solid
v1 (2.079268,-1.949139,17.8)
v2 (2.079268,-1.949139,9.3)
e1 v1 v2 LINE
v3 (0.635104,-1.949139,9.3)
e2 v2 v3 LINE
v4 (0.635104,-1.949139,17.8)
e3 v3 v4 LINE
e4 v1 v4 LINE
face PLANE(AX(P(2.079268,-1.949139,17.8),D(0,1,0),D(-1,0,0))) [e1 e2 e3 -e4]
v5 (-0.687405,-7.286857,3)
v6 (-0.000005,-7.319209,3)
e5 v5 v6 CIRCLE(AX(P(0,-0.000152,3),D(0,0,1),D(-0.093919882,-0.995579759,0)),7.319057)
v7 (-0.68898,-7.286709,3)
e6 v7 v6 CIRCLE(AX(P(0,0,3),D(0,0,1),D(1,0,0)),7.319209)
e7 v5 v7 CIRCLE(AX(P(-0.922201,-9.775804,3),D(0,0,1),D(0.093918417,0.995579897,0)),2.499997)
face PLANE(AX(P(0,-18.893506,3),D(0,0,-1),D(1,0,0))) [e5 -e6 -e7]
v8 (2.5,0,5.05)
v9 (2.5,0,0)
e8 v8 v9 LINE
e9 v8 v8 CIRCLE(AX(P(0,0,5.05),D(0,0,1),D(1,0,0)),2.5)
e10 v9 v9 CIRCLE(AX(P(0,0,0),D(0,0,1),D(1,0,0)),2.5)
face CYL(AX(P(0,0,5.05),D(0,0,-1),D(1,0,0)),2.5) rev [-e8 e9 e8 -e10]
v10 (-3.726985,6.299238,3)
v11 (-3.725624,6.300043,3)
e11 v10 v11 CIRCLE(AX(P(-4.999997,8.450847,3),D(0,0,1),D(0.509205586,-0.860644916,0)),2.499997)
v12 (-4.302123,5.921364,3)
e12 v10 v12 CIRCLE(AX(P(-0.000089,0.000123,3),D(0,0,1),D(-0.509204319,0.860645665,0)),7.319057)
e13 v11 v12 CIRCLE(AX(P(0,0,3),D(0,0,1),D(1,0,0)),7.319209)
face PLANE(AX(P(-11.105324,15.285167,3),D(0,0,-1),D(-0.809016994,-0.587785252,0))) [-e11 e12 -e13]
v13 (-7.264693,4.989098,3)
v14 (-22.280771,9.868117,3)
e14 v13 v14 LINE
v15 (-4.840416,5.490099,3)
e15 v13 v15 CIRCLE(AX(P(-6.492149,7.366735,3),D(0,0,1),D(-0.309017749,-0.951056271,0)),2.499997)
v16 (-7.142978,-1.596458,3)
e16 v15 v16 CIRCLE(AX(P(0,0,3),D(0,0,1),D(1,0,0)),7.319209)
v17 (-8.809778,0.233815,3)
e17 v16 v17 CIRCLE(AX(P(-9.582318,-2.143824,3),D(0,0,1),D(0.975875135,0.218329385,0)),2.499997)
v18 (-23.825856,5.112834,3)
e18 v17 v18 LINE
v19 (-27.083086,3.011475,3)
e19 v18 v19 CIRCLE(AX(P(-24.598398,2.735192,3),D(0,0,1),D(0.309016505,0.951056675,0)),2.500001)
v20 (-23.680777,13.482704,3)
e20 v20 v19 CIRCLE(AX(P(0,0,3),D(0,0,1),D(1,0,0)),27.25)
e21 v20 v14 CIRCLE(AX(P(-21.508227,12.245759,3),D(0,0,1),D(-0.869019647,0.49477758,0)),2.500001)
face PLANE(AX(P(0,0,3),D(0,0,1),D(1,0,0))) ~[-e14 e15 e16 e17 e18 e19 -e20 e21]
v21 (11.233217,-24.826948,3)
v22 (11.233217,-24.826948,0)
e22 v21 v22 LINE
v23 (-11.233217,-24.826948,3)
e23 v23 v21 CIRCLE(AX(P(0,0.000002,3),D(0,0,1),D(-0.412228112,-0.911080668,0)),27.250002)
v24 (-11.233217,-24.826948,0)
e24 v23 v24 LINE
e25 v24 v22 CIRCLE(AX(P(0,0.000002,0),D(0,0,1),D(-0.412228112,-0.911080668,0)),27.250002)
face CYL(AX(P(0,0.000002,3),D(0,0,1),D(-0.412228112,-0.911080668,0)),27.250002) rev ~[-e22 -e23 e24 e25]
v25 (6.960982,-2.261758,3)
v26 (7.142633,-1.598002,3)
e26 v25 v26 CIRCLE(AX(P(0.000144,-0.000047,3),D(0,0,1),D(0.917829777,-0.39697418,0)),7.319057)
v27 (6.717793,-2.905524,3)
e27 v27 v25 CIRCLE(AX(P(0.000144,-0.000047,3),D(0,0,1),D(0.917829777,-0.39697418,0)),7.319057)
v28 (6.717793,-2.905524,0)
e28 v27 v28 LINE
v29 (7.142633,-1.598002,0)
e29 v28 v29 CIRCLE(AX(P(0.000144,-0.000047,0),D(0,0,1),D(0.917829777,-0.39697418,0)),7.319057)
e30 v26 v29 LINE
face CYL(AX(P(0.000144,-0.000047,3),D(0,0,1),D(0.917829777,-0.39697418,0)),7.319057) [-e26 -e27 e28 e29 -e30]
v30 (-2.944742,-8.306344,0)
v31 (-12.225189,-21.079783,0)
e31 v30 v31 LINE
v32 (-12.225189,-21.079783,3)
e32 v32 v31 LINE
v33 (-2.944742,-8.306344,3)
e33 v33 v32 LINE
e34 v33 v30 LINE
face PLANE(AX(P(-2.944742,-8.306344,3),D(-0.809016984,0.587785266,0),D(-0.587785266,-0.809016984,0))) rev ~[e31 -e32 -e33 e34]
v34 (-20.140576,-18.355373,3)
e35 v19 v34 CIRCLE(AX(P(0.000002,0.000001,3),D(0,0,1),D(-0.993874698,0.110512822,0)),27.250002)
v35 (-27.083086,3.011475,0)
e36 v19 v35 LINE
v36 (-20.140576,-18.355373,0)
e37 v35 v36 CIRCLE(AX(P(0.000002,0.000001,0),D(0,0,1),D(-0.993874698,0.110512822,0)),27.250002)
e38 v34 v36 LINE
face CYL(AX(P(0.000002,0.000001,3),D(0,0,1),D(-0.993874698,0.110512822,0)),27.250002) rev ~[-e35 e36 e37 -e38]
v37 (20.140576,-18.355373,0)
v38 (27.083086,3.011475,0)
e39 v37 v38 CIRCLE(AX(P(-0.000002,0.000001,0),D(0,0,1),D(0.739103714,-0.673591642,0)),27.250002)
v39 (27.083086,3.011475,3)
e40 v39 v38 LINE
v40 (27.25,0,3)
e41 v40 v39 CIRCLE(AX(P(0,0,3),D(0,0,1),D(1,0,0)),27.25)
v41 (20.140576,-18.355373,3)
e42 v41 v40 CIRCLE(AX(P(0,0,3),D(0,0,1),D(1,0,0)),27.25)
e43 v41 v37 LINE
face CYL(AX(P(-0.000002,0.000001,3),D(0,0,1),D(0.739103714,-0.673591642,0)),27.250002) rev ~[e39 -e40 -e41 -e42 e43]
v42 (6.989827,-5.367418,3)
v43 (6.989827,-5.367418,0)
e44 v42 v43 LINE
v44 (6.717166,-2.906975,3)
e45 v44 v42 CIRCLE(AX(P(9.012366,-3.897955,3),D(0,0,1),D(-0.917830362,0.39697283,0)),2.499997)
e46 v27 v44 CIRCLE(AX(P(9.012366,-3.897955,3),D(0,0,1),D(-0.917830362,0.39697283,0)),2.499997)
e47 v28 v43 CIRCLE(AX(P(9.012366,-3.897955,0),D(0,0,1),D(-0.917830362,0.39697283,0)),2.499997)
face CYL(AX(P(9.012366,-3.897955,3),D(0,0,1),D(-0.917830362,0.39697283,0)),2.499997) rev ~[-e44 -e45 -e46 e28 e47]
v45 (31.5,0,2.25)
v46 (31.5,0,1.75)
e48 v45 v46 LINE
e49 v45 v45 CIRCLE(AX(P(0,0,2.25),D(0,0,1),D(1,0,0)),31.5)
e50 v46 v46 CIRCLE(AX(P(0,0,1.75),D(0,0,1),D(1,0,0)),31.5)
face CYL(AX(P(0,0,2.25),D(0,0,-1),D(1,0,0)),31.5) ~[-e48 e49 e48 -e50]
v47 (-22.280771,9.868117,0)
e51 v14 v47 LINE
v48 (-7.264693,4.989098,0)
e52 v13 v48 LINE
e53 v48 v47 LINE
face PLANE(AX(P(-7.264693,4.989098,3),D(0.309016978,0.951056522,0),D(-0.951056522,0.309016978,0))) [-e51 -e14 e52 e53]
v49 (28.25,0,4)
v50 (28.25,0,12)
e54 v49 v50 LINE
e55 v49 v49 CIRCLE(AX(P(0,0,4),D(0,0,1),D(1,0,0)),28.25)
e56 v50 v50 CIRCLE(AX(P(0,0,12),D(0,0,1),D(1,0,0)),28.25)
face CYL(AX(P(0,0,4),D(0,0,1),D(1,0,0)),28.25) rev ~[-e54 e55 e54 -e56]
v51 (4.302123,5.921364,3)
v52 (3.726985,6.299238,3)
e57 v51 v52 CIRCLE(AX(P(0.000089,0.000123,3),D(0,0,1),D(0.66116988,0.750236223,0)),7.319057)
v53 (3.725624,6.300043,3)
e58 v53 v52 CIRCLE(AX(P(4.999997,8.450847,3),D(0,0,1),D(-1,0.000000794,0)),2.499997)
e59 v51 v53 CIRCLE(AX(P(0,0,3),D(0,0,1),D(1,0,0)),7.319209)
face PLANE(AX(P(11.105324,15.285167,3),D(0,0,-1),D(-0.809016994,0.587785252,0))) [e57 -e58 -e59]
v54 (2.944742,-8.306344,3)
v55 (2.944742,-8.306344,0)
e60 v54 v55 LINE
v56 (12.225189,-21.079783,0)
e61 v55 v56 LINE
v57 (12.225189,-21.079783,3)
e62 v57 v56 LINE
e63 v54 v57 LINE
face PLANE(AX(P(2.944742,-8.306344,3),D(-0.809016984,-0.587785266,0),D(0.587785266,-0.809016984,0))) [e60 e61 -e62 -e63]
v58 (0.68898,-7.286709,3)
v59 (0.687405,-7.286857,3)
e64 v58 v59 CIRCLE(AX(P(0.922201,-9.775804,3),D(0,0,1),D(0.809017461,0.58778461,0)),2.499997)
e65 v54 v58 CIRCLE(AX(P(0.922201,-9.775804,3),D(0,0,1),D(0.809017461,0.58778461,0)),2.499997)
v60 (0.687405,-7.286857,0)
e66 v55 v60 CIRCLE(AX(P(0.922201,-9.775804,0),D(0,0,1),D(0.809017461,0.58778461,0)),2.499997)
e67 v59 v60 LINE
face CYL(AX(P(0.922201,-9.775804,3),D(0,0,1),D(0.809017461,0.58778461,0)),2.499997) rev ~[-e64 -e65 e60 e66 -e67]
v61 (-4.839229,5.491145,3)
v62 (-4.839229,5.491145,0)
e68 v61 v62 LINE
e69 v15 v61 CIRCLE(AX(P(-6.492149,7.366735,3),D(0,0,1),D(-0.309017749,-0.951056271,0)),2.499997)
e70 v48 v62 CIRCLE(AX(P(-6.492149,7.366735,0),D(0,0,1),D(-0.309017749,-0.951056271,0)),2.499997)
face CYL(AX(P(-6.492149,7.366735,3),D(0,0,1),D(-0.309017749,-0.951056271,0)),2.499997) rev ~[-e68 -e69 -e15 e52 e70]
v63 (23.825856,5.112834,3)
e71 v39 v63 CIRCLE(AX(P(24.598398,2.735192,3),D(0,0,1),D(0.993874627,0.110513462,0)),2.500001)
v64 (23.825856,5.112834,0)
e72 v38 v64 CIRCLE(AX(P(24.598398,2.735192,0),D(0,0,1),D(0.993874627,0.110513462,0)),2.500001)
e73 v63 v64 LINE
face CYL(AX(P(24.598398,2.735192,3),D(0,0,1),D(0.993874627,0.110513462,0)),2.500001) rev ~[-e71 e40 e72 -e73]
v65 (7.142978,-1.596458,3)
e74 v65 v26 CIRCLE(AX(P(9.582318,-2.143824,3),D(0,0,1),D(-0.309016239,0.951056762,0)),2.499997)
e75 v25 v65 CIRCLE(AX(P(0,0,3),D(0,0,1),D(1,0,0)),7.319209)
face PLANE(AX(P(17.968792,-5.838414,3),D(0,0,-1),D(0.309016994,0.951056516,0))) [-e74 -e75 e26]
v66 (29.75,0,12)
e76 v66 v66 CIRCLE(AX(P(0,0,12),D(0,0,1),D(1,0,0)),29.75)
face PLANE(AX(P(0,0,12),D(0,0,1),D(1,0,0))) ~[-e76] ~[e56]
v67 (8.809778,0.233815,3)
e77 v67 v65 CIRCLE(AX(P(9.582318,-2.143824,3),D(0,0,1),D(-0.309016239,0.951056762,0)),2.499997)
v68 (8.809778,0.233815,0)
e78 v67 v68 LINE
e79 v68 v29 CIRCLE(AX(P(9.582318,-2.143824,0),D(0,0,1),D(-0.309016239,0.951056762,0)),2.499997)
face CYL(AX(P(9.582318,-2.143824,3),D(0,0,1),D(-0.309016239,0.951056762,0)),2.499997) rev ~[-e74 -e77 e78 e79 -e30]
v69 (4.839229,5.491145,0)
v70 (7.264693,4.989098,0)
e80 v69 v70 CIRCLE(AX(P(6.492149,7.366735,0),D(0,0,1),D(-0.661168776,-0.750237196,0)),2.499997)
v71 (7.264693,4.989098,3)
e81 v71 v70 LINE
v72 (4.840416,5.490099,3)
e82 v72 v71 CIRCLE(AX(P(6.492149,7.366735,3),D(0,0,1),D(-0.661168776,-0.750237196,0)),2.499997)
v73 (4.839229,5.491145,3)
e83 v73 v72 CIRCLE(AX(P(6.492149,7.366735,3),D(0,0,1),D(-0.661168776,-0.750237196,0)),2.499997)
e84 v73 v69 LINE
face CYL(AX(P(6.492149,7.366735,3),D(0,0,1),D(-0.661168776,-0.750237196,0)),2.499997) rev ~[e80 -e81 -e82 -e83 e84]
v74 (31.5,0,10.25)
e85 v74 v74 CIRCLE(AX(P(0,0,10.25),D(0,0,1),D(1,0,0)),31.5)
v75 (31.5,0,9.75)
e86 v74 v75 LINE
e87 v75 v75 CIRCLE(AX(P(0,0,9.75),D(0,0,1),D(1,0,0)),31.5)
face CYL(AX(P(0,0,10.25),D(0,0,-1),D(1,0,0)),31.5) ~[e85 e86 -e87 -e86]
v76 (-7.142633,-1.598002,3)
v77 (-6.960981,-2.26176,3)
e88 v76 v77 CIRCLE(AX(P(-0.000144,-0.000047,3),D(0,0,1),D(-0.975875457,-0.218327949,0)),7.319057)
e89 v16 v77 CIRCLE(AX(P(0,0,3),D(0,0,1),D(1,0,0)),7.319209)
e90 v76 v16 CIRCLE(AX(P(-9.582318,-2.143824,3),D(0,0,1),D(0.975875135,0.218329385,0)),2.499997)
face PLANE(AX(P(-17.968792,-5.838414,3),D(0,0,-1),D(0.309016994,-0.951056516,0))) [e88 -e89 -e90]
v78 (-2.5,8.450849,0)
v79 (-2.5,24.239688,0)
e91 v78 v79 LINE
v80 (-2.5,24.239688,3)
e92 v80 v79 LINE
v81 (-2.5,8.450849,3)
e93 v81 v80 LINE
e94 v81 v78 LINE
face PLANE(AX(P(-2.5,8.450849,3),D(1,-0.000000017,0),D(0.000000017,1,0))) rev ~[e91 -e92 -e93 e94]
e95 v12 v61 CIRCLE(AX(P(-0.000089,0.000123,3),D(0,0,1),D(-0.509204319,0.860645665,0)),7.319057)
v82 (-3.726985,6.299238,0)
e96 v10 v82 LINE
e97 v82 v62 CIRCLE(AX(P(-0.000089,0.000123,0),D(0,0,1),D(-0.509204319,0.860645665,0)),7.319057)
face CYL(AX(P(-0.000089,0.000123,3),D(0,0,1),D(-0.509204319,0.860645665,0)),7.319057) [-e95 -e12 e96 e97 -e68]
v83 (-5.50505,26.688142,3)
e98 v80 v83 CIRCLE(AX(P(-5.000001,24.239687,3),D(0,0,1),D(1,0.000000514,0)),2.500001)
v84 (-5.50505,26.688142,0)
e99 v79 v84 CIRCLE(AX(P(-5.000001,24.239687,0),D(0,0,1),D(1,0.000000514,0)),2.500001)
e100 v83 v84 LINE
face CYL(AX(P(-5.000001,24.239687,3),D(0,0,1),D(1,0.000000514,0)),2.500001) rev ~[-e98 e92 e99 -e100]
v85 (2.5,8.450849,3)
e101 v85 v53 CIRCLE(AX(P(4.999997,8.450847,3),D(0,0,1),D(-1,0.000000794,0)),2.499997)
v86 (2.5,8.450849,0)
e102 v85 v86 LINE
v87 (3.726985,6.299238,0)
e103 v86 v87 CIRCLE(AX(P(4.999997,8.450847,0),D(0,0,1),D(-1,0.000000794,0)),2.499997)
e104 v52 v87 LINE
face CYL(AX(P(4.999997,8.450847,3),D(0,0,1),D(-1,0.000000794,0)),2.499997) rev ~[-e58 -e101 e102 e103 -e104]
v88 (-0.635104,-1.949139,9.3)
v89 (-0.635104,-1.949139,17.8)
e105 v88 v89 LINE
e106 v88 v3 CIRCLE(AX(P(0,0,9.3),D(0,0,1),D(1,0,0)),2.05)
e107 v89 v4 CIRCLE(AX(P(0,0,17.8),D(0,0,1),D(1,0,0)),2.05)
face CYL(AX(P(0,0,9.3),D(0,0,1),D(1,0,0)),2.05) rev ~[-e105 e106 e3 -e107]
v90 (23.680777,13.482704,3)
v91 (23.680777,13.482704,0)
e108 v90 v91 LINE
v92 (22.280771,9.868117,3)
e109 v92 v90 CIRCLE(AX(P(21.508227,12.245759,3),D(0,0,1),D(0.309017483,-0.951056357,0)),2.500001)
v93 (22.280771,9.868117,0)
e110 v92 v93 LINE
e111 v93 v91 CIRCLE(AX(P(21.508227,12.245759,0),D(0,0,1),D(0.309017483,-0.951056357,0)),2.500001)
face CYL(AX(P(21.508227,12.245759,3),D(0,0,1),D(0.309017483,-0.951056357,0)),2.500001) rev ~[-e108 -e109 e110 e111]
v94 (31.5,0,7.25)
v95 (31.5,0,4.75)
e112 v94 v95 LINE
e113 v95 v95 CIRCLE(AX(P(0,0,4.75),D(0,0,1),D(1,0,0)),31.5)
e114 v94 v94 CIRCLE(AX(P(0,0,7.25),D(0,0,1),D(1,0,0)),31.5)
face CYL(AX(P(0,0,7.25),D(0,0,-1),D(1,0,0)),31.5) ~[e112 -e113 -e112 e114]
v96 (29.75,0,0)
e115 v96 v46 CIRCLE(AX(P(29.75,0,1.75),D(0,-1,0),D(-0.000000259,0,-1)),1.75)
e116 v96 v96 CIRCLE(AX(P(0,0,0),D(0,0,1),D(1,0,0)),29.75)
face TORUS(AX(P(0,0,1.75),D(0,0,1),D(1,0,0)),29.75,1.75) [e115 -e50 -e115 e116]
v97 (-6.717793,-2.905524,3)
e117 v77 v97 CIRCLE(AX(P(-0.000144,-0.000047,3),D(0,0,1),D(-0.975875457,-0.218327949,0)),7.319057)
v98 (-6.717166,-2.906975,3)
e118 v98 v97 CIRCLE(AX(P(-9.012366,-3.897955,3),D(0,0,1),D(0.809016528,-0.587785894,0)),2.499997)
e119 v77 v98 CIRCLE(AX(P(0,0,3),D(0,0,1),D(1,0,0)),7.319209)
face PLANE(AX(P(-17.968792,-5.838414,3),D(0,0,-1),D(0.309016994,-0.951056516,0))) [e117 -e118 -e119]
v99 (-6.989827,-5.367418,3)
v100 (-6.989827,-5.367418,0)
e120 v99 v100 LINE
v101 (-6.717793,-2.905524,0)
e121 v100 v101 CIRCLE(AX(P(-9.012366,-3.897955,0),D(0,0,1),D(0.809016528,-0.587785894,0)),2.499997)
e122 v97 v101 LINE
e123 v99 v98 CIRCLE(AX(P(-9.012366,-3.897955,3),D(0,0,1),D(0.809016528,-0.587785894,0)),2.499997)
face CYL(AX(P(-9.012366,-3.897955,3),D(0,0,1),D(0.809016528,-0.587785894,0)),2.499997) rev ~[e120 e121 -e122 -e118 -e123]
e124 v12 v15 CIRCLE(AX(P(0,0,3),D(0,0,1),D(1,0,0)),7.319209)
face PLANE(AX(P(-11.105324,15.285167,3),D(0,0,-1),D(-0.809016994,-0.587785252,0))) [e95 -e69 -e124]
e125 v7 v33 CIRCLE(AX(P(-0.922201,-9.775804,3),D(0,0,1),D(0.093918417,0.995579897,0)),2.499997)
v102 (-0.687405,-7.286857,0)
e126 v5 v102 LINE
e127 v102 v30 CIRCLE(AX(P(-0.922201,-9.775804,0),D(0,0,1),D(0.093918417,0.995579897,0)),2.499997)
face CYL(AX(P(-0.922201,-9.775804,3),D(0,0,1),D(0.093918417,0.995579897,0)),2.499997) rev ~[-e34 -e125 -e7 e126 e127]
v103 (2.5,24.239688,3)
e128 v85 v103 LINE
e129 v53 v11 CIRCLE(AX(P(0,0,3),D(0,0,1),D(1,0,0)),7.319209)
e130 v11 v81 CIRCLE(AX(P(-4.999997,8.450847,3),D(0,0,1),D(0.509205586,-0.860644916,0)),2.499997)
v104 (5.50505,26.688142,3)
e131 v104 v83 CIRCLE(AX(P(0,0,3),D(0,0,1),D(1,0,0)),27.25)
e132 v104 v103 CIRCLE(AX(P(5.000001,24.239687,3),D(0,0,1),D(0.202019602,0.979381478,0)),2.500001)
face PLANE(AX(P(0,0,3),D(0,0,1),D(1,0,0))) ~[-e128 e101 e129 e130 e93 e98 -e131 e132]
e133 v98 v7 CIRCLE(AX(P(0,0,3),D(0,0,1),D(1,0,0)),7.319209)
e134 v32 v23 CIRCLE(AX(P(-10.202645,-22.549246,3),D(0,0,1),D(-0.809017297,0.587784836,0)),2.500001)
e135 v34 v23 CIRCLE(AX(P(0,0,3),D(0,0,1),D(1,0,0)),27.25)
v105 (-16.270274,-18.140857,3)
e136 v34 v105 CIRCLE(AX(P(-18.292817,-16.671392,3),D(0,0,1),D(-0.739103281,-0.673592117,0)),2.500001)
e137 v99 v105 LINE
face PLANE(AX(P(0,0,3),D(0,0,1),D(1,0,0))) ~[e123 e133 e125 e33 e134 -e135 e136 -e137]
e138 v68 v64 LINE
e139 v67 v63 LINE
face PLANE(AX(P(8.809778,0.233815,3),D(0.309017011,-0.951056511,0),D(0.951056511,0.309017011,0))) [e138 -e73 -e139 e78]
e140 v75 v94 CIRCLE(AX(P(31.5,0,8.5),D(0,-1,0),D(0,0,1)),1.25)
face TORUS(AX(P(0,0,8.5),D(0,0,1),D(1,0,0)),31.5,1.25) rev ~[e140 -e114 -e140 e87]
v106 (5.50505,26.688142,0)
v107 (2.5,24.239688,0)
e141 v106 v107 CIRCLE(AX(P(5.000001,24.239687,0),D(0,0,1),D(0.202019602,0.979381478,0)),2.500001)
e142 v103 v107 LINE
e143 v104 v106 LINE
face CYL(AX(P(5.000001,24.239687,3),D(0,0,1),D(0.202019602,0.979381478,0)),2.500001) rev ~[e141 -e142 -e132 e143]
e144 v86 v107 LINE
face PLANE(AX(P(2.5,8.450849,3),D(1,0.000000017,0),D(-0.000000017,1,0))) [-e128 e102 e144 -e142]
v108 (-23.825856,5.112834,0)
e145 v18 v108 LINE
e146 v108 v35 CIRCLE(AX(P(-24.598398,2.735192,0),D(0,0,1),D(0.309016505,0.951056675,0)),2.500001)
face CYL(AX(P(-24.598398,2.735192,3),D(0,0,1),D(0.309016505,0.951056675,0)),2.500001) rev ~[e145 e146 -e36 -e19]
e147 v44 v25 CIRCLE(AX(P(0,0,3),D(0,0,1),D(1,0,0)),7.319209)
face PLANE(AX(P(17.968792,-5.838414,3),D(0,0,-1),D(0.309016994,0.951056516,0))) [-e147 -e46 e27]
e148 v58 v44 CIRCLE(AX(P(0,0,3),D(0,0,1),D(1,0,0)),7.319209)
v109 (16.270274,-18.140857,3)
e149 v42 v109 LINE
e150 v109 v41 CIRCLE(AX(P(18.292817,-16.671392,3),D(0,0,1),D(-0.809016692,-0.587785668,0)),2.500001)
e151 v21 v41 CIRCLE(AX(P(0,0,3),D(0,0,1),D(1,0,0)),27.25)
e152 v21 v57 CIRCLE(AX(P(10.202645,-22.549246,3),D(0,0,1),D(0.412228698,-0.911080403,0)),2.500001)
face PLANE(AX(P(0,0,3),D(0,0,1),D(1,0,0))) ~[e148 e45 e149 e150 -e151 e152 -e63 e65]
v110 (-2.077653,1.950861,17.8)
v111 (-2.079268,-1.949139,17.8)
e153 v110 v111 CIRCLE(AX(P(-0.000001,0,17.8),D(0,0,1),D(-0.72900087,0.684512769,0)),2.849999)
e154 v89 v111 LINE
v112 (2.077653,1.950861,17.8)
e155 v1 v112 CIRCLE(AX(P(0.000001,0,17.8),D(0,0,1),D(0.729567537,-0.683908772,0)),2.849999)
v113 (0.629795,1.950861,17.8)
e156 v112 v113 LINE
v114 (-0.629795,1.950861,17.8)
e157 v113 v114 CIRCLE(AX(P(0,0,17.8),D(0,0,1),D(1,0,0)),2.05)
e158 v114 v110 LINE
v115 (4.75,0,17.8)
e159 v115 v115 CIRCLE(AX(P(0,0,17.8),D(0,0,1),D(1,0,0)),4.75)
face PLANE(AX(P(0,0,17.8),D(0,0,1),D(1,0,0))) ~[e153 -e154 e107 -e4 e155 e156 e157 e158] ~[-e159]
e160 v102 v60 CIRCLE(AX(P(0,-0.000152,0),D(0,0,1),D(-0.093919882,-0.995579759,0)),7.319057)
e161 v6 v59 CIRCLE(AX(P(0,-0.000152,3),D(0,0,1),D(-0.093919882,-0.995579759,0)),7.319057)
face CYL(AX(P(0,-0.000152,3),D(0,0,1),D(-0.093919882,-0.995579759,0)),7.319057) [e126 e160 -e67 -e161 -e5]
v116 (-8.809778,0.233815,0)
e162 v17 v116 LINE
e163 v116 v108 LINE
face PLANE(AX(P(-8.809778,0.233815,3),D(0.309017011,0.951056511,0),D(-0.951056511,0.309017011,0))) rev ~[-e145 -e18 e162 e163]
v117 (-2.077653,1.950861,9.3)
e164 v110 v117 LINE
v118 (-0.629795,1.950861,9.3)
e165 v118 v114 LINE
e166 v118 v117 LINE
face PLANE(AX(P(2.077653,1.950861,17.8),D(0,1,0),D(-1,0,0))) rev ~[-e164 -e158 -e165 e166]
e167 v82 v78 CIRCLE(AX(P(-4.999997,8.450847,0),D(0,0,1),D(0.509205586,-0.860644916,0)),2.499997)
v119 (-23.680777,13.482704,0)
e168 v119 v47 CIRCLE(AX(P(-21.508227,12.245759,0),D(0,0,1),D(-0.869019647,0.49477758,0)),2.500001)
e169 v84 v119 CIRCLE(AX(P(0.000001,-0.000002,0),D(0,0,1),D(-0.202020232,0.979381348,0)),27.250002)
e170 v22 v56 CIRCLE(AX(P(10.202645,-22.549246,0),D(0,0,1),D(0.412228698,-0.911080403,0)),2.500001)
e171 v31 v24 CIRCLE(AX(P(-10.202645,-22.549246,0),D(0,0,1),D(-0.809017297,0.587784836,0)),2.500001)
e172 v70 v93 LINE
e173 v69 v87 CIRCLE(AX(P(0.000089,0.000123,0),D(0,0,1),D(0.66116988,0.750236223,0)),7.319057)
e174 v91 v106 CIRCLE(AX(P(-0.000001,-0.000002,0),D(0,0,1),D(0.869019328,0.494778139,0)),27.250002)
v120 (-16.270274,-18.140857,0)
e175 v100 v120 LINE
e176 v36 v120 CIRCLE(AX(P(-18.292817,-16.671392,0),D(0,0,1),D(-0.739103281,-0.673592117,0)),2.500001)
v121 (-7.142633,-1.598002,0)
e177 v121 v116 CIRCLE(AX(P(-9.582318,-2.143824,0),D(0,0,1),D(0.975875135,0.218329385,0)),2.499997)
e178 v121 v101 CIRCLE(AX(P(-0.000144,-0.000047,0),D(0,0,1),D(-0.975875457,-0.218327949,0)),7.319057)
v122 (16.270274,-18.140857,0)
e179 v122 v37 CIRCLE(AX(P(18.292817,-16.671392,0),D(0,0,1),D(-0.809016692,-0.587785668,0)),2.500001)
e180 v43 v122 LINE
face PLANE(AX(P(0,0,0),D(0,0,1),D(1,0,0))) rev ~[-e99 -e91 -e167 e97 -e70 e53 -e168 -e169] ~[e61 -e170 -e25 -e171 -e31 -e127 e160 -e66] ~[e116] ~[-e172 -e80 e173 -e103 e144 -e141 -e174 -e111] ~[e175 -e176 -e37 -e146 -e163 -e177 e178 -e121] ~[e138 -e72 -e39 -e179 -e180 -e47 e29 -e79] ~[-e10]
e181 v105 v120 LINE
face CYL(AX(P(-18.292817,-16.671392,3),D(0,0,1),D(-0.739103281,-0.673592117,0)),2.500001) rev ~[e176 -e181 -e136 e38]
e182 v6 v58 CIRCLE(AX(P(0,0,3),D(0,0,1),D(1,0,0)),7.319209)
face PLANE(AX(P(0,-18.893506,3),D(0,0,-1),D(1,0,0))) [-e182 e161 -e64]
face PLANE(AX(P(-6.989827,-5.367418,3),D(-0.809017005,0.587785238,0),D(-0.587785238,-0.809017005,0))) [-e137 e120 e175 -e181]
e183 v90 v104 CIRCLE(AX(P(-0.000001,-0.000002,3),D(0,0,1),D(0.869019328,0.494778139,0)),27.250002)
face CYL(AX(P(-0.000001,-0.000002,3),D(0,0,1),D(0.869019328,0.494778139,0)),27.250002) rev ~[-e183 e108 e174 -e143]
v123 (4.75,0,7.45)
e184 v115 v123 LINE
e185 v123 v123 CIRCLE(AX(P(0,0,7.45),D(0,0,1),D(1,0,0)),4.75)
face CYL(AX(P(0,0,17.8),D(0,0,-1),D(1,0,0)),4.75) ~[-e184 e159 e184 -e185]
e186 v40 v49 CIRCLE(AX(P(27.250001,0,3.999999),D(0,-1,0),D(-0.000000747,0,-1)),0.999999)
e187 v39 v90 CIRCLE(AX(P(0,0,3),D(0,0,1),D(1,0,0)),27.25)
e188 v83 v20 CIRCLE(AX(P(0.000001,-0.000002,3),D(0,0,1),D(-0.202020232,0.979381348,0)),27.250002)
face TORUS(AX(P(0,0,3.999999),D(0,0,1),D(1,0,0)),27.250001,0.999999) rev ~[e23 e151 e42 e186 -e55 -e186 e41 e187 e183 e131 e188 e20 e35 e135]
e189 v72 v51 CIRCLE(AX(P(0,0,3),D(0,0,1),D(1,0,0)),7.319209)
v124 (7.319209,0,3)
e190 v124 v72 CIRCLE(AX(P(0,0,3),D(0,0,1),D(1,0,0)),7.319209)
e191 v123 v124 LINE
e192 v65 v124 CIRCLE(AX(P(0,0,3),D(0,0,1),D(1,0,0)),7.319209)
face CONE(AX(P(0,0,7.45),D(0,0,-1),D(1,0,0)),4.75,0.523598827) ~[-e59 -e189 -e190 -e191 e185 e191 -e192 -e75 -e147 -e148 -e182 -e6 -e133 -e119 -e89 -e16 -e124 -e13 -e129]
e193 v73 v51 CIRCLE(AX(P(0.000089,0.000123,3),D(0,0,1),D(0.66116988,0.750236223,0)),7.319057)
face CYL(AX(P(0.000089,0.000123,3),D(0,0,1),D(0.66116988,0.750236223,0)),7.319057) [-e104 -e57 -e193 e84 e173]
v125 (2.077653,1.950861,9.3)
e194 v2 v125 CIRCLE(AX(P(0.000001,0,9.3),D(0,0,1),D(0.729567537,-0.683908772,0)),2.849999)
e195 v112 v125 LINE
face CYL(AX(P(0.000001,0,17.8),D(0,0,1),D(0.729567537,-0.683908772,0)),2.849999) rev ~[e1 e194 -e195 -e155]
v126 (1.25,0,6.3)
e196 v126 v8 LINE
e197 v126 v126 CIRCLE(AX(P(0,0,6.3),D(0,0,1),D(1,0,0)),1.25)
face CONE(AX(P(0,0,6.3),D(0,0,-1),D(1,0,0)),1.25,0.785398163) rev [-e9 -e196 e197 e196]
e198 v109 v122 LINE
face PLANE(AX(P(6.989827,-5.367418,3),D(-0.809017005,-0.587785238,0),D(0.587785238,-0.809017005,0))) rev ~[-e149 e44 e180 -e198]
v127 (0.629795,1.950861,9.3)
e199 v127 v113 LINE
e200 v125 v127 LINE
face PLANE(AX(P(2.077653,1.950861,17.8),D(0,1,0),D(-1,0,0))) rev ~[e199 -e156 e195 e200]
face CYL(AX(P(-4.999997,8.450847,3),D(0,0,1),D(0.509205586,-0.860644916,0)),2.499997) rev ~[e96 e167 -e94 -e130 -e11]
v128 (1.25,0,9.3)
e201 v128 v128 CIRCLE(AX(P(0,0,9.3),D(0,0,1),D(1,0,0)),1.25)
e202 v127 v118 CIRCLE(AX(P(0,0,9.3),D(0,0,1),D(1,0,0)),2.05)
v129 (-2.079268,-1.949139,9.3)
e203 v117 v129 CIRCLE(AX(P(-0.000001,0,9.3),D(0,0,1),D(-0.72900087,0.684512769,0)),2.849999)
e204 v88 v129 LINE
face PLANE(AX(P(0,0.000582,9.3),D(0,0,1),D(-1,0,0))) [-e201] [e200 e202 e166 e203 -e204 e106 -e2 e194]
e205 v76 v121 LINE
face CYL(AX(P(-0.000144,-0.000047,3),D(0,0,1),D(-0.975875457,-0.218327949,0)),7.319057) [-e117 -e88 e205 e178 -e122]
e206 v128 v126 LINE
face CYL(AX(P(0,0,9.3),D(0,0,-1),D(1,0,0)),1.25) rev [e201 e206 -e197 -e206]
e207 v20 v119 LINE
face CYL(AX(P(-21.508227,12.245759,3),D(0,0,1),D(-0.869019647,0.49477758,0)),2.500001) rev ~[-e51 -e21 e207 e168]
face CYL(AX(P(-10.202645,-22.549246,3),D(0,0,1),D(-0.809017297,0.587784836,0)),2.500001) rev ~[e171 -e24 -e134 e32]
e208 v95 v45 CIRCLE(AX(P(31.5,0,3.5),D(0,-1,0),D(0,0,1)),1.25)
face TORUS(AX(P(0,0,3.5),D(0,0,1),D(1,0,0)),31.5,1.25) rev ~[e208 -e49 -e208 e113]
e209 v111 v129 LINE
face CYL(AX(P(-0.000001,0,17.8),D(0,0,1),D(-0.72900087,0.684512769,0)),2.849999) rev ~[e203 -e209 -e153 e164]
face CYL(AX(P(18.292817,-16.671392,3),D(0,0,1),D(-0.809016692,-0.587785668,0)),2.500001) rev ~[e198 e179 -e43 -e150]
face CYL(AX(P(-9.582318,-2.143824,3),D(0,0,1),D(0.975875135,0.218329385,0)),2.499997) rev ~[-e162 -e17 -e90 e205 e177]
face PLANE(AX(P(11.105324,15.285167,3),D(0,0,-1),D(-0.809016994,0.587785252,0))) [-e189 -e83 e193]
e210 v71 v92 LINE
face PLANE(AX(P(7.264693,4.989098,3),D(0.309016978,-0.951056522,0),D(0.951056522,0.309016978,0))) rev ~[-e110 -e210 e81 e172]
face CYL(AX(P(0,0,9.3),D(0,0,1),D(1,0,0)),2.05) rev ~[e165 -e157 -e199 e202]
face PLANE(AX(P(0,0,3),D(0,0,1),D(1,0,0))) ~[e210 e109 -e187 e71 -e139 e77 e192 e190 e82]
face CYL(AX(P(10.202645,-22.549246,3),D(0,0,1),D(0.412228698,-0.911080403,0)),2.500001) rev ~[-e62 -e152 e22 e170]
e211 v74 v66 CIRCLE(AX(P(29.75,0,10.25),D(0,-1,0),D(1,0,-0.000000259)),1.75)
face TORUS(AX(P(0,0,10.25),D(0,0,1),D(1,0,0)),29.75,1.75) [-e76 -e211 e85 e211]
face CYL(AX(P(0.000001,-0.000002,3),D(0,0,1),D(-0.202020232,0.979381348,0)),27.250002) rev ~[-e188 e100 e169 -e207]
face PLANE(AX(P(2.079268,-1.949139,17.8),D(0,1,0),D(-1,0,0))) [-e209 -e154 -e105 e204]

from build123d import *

# Parameters (mm, degrees)
POCKET_DEPTH       = 8.5
POCKET001_DEPTH    = 184.7133
POLARPATTERN_COUNT = 5


with BuildPart() as part:
    # Sketch → Revolution (revolve)
    with BuildSketch(Plane.XZ):
        with BuildLine():
            Line((2.05, 17.8), (4.75, 17.8))
            Line((4.75, 17.8), (4.75, 7.45))
            Line((4.75, 7.45), (7.319209, 3))
            Line((7.319209, 3), (27.25, 3))
            ThreePointArc((27.25, 3), (27.957107, 3.292893), (28.25, 4))
            Line((28.25, 4), (28.25, 12))
            Line((28.25, 12), (29.75, 12))
            ThreePointArc((31.5, 10.25), (30.987437, 11.487437), (29.75, 12))
            Line((31.5, 10.25), (31.5, 9.75))
            ThreePointArc((31.5, 9.75), (30.25, 8.5), (31.5, 7.25))
            Line((31.5, 7.25), (31.5, 4.75))
            ThreePointArc((31.5, 4.75), (30.25, 3.5), (31.5, 2.25))
            Line((31.5, 2.25), (31.5, 1.75))
            ThreePointArc((29.75, 0), (30.987437, 0.512563), (31.5, 1.75))
            Line((29.75, 0), (2.5, 0))
            Line((2.5, 5.05), (2.5, 0))
            Line((1.25, 6.3), (2.5, 5.05))
            Line((1.25, 9.3), (1.25, 6.3))
            Line((2.05, 9.3), (1.25, 9.3))
            Line((2.05, 9.3), (2.05, 17.8))
        make_face()
    revolve(axis=Axis((0, 0, 0), (0, 0, 1)))

    # Sketch001 (on Face2 of Revolution) → Pocket (cut)
    with BuildSketch(Plane(origin=(0, 0, 17.8), x_dir=(-1, 0, 0), z_dir=(0, 0, 1))):
        with BuildLine():
            ThreePointArc((-2.079268, 1.949139), (-2.85, -0.00118), (-2.077653, -1.950861))
            Line((-2.077653, -1.950861), (2.077653, -1.950861))
            ThreePointArc((2.077653, -1.950861), (2.85, -0.00118), (2.079268, 1.949139))
            Line((-2.079268, 1.949139), (2.079268, 1.949139))
        make_face()
    extrude(amount=-POCKET_DEPTH, mode=Mode.SUBTRACT)

    # Sketch005 (on Face12 of Pocket) → Pocket001 (cut, through all)
    with BuildSketch(Plane(origin=(0, 0, 3), x_dir=(-1, 0, 0), z_dir=(0, 0, 1))):
        with BuildLine():
            ThreePointArc((0.687405, 7.286857), (0, 7.319209), (-0.687405, 7.286857))
            ThreePointArc((-2.944742, 8.306344), (-1.951204, 7.497397), (-0.687405, 7.286857))
            Line((-2.944742, 8.306344), (-12.225189, 21.079783))
            ThreePointArc((-11.233217, 24.826948), (-12.619397, 23.189023), (-12.225189, 21.079783))
            ThreePointArc((11.233217, 24.826948), (0, 27.25), (-11.233217, 24.826948))
            ThreePointArc((12.225189, 21.079783), (12.619397, 23.189023), (11.233217, 24.826948))
            Line((2.944742, 8.306344), (12.225189, 21.079783))
            ThreePointArc((0.687405, 7.286857), (1.951204, 7.497397), (2.944742, 8.306344))
        make_face()
    pocket001 = extrude(amount=-POCKET001_DEPTH, mode=Mode.SUBTRACT)

    # PolarPattern: Pocket001 ×5 about axis
    polarpattern_axis = Axis((0, 0, 3), (0, 0, 1))
    for i in range(1, POLARPATTERN_COUNT):
        add(pocket001.rotate(polarpattern_axis, i * 360 / POLARPATTERN_COUNT), mode=Mode.SUBTRACT)


solid = part.part
